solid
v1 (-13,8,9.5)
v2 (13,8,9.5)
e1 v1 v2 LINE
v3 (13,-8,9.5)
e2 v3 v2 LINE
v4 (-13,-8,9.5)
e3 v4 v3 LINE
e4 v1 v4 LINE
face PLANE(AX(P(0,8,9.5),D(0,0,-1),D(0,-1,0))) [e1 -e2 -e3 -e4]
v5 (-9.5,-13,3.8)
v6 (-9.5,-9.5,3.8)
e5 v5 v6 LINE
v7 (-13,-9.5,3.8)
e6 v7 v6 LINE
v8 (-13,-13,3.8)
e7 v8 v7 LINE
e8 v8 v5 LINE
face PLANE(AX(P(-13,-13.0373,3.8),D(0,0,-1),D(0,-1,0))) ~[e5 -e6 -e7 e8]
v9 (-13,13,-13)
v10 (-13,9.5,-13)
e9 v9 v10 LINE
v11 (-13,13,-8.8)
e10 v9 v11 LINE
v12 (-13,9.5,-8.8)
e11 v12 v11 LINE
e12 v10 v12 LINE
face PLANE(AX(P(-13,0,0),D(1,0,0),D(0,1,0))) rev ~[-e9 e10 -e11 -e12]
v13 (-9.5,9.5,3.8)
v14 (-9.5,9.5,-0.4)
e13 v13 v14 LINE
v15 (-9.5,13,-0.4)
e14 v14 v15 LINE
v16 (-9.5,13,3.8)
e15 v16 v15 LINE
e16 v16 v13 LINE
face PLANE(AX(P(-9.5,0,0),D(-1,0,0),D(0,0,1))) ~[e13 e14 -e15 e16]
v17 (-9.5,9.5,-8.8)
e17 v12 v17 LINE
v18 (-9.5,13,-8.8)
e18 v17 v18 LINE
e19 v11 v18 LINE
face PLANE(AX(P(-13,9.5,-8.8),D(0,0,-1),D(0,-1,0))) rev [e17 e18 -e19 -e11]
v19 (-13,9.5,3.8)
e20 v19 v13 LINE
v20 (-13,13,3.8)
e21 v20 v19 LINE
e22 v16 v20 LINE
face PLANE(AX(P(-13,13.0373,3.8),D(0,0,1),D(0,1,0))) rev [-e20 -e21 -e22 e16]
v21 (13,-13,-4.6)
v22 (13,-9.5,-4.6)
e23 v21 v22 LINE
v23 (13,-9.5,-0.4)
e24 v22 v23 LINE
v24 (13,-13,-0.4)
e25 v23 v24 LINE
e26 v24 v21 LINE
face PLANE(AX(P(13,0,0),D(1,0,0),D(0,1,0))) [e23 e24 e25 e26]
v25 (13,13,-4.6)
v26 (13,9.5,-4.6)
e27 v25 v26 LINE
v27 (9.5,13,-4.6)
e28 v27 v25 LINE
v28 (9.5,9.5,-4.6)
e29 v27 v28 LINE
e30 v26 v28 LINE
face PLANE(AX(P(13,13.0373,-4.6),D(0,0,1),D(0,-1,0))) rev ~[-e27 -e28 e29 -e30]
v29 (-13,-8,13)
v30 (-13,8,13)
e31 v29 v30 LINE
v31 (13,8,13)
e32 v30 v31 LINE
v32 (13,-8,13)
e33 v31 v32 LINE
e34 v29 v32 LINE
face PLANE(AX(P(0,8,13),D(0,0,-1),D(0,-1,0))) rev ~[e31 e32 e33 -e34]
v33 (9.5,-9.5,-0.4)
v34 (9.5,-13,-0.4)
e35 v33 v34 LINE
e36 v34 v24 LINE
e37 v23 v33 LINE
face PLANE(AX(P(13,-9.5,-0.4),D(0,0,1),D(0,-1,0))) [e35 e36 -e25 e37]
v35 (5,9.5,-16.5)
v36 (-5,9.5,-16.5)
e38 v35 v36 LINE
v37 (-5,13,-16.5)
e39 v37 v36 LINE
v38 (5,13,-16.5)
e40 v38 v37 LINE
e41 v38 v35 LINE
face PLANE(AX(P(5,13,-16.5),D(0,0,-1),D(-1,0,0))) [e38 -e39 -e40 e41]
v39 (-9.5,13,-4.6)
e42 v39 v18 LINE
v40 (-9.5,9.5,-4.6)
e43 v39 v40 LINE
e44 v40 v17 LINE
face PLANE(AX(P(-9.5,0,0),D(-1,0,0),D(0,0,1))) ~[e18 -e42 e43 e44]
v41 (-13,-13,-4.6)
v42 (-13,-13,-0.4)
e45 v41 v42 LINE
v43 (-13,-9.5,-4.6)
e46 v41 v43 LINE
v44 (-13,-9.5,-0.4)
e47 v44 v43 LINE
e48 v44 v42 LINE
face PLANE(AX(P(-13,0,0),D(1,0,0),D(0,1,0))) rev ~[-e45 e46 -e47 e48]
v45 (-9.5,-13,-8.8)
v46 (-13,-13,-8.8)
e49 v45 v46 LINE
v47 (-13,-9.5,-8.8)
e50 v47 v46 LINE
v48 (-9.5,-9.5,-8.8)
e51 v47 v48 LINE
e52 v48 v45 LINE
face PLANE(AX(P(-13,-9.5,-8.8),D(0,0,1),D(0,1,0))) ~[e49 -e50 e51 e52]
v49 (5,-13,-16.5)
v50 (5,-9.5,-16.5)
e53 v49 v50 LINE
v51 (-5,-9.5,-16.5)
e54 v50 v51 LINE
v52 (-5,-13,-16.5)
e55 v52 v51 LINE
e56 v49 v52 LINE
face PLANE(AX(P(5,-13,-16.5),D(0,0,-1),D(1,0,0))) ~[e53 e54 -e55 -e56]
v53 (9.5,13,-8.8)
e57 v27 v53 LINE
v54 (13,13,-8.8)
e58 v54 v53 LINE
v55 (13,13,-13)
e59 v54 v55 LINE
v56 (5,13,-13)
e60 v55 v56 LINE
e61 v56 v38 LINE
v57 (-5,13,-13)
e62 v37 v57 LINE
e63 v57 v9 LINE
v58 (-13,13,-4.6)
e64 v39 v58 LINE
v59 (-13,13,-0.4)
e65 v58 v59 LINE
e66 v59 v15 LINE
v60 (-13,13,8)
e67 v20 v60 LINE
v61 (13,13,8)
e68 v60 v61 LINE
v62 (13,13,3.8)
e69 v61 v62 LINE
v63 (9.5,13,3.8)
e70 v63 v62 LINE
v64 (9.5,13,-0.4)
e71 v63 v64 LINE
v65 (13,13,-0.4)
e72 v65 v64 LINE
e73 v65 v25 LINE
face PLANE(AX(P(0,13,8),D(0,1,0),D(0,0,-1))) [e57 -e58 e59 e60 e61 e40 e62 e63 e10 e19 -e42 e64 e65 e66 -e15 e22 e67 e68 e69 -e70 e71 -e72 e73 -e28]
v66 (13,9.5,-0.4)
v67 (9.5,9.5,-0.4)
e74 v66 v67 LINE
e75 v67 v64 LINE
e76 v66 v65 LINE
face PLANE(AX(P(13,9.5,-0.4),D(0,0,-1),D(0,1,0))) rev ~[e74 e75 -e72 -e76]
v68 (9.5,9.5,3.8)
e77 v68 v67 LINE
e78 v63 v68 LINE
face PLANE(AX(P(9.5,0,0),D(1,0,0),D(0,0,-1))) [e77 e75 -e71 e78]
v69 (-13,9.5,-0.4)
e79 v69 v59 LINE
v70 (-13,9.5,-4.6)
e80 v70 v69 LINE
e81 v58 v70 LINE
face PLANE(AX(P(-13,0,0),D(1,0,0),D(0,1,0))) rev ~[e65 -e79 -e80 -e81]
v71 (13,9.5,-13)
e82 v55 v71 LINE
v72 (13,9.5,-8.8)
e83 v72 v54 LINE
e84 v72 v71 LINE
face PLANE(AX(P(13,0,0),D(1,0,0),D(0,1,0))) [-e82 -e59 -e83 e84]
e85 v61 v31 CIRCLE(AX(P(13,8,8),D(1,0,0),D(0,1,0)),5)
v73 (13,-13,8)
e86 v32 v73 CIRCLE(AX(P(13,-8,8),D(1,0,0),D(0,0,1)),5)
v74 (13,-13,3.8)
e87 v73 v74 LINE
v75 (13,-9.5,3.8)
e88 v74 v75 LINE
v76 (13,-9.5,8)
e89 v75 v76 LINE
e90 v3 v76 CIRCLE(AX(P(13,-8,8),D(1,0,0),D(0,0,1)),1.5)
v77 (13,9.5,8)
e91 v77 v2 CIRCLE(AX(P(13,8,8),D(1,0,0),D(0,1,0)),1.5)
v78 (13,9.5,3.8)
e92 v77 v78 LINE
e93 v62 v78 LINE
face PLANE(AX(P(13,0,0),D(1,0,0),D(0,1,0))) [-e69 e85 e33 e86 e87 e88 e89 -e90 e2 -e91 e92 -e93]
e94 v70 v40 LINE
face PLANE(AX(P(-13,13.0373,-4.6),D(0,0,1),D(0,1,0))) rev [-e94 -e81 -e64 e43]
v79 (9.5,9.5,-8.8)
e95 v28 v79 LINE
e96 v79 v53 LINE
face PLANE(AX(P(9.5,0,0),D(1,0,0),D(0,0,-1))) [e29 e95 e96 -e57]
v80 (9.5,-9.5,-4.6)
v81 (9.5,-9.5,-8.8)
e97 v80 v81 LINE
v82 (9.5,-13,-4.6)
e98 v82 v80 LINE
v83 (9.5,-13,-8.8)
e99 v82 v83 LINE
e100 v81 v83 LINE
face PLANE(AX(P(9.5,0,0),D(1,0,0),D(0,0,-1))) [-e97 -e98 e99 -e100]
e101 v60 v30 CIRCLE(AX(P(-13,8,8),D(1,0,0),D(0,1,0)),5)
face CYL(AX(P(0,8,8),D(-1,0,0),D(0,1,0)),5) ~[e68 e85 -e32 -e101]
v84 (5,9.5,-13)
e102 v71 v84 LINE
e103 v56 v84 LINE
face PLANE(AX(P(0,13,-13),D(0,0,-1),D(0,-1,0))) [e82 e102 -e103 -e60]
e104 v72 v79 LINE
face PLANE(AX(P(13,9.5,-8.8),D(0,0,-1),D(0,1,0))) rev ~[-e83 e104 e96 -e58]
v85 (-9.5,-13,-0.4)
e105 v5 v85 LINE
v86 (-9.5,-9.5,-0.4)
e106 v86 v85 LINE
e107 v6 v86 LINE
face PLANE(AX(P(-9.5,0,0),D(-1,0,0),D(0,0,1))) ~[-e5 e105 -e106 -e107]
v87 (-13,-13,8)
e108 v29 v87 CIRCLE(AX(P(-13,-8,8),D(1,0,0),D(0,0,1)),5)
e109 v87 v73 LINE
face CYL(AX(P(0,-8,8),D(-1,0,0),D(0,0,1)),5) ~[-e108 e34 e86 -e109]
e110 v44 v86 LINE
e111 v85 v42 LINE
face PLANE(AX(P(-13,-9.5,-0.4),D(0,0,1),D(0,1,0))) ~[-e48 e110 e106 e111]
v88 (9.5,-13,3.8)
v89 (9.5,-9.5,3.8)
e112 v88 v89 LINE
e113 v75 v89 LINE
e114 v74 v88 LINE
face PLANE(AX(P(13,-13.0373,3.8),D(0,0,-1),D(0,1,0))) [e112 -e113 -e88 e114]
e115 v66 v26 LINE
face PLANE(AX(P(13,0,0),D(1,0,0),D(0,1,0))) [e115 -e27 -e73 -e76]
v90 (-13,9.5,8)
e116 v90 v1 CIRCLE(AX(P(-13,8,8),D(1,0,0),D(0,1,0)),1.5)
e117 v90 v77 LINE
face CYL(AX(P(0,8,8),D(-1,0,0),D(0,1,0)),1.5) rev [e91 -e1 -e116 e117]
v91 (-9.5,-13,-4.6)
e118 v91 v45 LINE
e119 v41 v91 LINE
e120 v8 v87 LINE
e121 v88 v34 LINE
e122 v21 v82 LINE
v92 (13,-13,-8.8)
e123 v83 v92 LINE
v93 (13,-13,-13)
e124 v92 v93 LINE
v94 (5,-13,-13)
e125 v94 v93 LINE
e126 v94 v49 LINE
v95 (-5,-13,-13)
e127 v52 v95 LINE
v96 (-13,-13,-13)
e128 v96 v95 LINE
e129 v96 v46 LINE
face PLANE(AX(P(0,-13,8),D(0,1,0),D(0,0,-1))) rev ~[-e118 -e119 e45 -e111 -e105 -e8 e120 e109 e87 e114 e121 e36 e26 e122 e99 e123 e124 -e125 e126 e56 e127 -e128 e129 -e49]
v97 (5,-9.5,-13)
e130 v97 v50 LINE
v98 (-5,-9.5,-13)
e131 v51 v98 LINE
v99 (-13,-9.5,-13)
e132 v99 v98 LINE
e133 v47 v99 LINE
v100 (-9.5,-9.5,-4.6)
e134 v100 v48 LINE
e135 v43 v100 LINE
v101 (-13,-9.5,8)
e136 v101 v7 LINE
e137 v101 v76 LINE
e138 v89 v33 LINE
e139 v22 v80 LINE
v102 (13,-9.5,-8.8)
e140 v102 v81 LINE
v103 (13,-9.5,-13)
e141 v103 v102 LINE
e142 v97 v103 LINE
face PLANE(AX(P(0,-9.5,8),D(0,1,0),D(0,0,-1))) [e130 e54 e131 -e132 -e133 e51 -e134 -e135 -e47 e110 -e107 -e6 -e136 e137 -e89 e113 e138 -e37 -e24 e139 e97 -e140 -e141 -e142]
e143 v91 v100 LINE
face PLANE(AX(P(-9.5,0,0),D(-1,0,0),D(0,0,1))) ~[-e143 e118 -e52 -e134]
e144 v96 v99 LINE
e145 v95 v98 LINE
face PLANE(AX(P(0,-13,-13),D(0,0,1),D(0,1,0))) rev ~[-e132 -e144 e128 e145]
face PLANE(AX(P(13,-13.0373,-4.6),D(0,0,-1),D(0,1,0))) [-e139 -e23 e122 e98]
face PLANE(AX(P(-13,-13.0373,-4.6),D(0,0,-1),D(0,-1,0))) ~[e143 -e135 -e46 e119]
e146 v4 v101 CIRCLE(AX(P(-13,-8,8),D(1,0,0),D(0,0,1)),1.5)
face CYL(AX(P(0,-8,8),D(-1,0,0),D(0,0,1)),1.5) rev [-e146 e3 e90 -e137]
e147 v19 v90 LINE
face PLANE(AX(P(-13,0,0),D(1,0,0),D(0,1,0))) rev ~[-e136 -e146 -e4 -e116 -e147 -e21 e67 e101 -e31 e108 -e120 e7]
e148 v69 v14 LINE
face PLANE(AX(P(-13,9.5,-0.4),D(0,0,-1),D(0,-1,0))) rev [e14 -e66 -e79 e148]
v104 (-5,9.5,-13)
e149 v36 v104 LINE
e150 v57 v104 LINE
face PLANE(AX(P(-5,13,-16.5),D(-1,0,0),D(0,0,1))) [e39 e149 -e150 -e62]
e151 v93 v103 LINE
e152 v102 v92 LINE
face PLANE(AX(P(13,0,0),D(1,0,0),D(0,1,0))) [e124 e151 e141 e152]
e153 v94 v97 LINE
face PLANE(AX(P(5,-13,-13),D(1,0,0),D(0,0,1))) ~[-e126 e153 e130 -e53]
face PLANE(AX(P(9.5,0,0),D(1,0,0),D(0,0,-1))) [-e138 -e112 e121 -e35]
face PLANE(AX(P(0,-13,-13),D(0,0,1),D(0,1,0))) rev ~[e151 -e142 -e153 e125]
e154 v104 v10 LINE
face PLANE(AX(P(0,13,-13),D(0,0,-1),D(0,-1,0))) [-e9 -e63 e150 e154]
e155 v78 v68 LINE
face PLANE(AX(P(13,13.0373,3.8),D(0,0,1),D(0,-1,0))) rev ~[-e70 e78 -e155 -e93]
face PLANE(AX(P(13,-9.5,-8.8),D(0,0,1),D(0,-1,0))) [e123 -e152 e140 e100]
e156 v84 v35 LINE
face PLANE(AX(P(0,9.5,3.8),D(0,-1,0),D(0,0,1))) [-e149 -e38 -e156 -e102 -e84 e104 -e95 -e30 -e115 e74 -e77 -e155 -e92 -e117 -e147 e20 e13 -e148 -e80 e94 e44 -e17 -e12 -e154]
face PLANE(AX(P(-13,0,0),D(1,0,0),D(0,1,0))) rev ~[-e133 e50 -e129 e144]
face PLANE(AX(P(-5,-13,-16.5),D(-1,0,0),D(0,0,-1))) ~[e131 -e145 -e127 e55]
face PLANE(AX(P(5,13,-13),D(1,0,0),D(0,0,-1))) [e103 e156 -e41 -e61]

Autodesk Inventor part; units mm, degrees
ref_plane "YZ Plane" through (0, 0, 0) normal (1, 0, 0) x (0, 1, 0)
ref_plane "XZ Plane" through (0, 0, 0) normal (0, 1, 0) x (-1, 0, 0)
sketch "Sketch1" plane through (0, 0, 0) normal (1, 0, 0) x (0, 1, 0)
  line L0 (13, 8) -> (13, -13)
  line L1 (5, -13) -> (0, -13)
  line L2 (0, -16.5) -> (5, -16.5)
  line L3 (5, -16.5) -> (5, -13)
  line L4 (0, 7.0803) -> (-6.4131, 0.6672)
  line L5 (-7.0965, 1.3506) -> (-0.3417, 8.1054)
  line L6 (-7.9849, 0.4622) -> (-7.0965, 1.3506) construction
  spline S0 degree 3 poles (-8.4777, -1.9692) (-8.4777, -0.714) (-7.9849, 0.4622) (-7.0965, 1.3506) knots 7 7 7 7 8 8 8 8
  line L7 (-8.4777, -1.9692) -> (-8.4777, -0.714) construction
  line L8 (-8.4777, -0.714) -> (-7.9849, 0.4622) construction
  line L9 (-6.4131, 0.6672) -> (-7.1181, -0.0378) construction
  spline S1 degree 3 poles (-6.4131, 0.6672) (-7.1181, -0.0378) (-7.5065, -0.9729) (-7.5065, -1.9692) (-7.5065, -2.9656) (-7.1217, -3.9007) (-6.4167, -4.6021) knots 2 2 2 2 3 3 3 4 4 4 4
  line L10 (-7.1181, -0.0378) -> (-7.5065, -0.9729) construction
  line L11 (-7.5065, -0.9729) -> (-7.5065, -1.9692) construction
  line L12 (-7.5065, -1.9692) -> (-7.5065, -2.9656) construction
  line L13 (-7.5065, -2.9656) -> (-7.1217, -3.9007) construction
  line L14 (-7.1217, -3.9007) -> (-6.4167, -4.6021) construction
  line L15 (-8.4813, -3.2245) -> (-8.4777, -1.9692) construction
  spline S2 degree 3 poles (-7.1037, -5.2927) (-7.9921, -4.4043) (-8.4813, -3.2245) (-8.4777, -1.9692) knots 6 6 6 6 7 7 7 7
  line L16 (-7.1037, -5.2927) -> (-7.9921, -4.4043) construction
  line L17 (-7.9921, -4.4043) -> (-8.4813, -3.2245) construction
  line L18 (-1.1474, -4.5985) -> (-0.3345, -3.7856)
  line L19 (-1.8524, -5.3035) -> (-1.1474, -4.5985) construction
  spline S3 degree 3 poles (-6.4167, -4.6021) (-5.7153, -5.3035) (-4.7802, -5.6919) (-3.7874, -5.6919) (-2.7911, -5.6919) (-1.8524, -5.3035) (-1.1474, -4.5985) knots 4 4 4 4 5 5 5 6 6 6 6
  line L20 (-6.4167, -4.6021) -> (-5.7153, -5.3035) construction
  line L21 (-5.7153, -5.3035) -> (-4.7802, -5.6919) construction
  line L22 (-4.7802, -5.6919) -> (-3.7874, -5.6919) construction
  line L23 (-3.7874, -5.6919) -> (-2.7911, -5.6919) construction
  line L24 (-2.7911, -5.6919) -> (-1.8524, -5.3035) construction
  line L25 (-0.4604, -5.2855) -> (-1.3488, -6.1739) construction
  spline S4 degree 3 poles (-0.4604, -5.2855) (-1.3488, -6.1739) (-2.5321, -6.6667) (-3.7874, -6.6667) (-5.0391, -6.6667) (-6.2189, -6.1775) (-7.1037, -5.2927) knots 4 4 4 4 5 5 5 6 6 6 6
  line L26 (-1.3488, -6.1739) -> (-2.5321, -6.6667) construction
  line L27 (-2.5321, -6.6667) -> (-3.7874, -6.6667) construction
  line L28 (-3.7874, -6.6667) -> (-5.0391, -6.6667) construction
  line L29 (-5.0391, -6.6667) -> (-6.2189, -6.1775) construction
  line L30 (-6.2189, -6.1775) -> (-7.1037, -5.2927) construction
  line L31 (2.5429, -6.6559) -> (1.3632, -6.1667) construction
  spline S5 degree 3 poles (7.1181, -5.2819) (6.2297, -6.1703) (5.0535, -6.6559) (3.7982, -6.6559) (2.5429, -6.6559) (1.3632, -6.1667) (0.4748, -5.2783) knots 0 0 0 0 1 1 1 2 2 2 2
  line L32 (7.1181, -5.2819) -> (6.2297, -6.1703) construction
  line L33 (6.2297, -6.1703) -> (5.0535, -6.6559) construction
  line L34 (5.0535, -6.6559) -> (3.7982, -6.6559) construction
  line L35 (3.7982, -6.6559) -> (2.5429, -6.6559) construction
  line L36 (1.3632, -6.1667) -> (0.4748, -5.2783) construction
  spline S6 degree 3 poles (-0.3345, -3.7856) (-0.1439, -3.595) (0.1619, -3.595) (0.3525, -3.7856) knots 7 7 7 7 8 8 8 8
  line L37 (-0.1439, -3.595) -> (0.1619, -3.595) construction
  line L38 (-0.3345, -3.7856) -> (-0.1439, -3.595) construction
  line L39 (0.1619, -3.595) -> (0.3525, -3.7856) construction
  line L40 (0.0108, -4.8143) -> (-0.4604, -5.2855)
  line L41 (0.4748, -5.2783) -> (0.0108, -4.8143)
  line L42 (6.4275, 0.678) -> (0, 7.0803)
  line L43 (-0.3417, 8.1054) -> (-0.2482, 8.1989) construction
  spline S7 degree 3 poles (-0.3417, 8.1054) (-0.2482, 8.1989) (-0.1223, 8.2493) (0, 8.2493) (0.1223, 8.2493) (0.2482, 8.2025) (0.3417, 8.109) knots 9 9 9 9 10 10 10 11 11 11 11
  line L44 (-0.2482, 8.1989) -> (-0.1223, 8.2493) construction
  line L45 (-0.1223, 8.2493) -> (0, 8.2493) construction
  line L46 (0, 8.2493) -> (0.1223, 8.2493) construction
  line L47 (0.1223, 8.2493) -> (0.2482, 8.2025) construction
  line L48 (0.2482, 8.2025) -> (0.3417, 8.109) construction
  line L49 (0.3417, 8.109) -> (7.1109, 1.365)
  line L50 (0.3525, -3.7856) -> (1.1582, -4.5913)
  spline S8 degree 3 poles (1.1582, -4.5913) (1.8631, -5.2963) (2.8019, -5.6847) (3.7946, -5.6847) (4.7873, -5.6847) (5.7225, -5.2963) (6.4275, -4.5949) knots 9 9 9 9 10 10 10 11 11 11 11
  line L51 (1.1582, -4.5913) -> (1.8631, -5.2963) construction
  line L52 (1.8631, -5.2963) -> (2.8019, -5.6847) construction
  line L53 (2.8019, -5.6847) -> (3.7946, -5.6847) construction
  line L54 (3.7946, -5.6847) -> (4.7873, -5.6847) construction
  line L55 (4.7873, -5.6847) -> (5.7225, -5.2963) construction
  line L56 (5.7225, -5.2963) -> (6.4275, -4.5949) construction
  line L57 (6.4275, -4.5949) -> (7.1325, -3.8899) construction
  spline S9 degree 3 poles (6.4275, -4.5949) (7.1325, -3.8899) (7.5173, -2.9548) (7.5173, -1.9584) knots 11 11 11 11 12 12 12 12
  line L58 (7.1325, -3.8899) -> (7.5173, -2.9548) construction
  line L59 (7.5173, -2.9548) -> (7.5173, -1.9584) construction
  line L60 (8.0065, -4.3935) -> (7.1181, -5.2819) construction
  spline S10 degree 3 poles (8.4885, -1.9584) (8.4921, -3.2137) (8.0065, -4.3935) (7.1181, -5.2819) knots 13 13 13 13 14 14 14 14
  line L61 (8.4885, -1.9584) -> (8.4921, -3.2137) construction
  line L62 (8.4921, -3.2137) -> (8.0065, -4.3935) construction
  line L63 (7.5173, -1.9584) -> (7.5209, -0.9621) construction
  spline S11 degree 3 poles (7.5173, -1.9584) (7.5209, -0.9621) (7.1325, -0.027) (6.4275, 0.678) knots 12 12 12 12 13 13 13 13
  line L64 (7.5209, -0.9621) -> (7.1325, -0.027) construction
  line L65 (7.1325, -0.027) -> (6.4275, 0.678) construction
  line L66 (8.4885, -0.7032) -> (8.4885, -1.9584) construction
  spline S12 degree 3 poles (7.1109, 1.365) (7.9993, 0.4766) (8.4885, -0.7032) (8.4885, -1.9584) knots 12 12 12 12 13 13 13 13
  line L67 (7.1109, 1.365) -> (7.9993, 0.4766) construction
  line L68 (7.9993, 0.4766) -> (8.4885, -0.7032) construction
  arc A0 (13, 8) -> (8, 13) centre (8, 8) ccw
  line L69 (0, -16.5) -> (0, -13)
  line L70 (13, -13) -> (0, -13)
  line L71 (8, 13) -> (0, 13)
  line L72 (-8, 13) -> (0, 13)
  arc A1 (-8, 13) -> (-13, 8) centre (-8, 8) ccw
  line L73 (-5, -13) -> (0, -13)
  line L74 (-5, -16.5) -> (-5, -13)
  line L75 (0, -16.5) -> (-5, -16.5)
  line L76 (-13, -13) -> (0, -13)
  line L77 (-13, 8) -> (-13, -13)
  line L78 (13, -4.6) -> (16.5, -4.6)
  line L79 (16.5, -4.6) -> (16.5, -8.8)
  line L80 (16.5, -8.8) -> (13, -8.8)
  line L81 (13, -8.8) -> (13, -4.6)
  line L82 (16.5, -0.4) -> (13, -0.4)
  line L83 (16.5, 3.8) -> (16.5, -0.4)
  line L84 (13, 3.8) -> (16.5, 3.8)
  line L85 (-16.5, 3.8) -> (-16.5, -0.4)
  line L86 (-13, 3.8) -> (-16.5, 3.8)
  line L87 (-16.5, -0.4) -> (-13, -0.4)
  line L88 (-13, -4.6) -> (-16.5, -4.6)
  line L89 (-16.5, -8.8) -> (-13, -8.8)
  line L90 (-16.5, -4.6) -> (-16.5, -8.8)
  line L91 (9.5, -9.5) -> (9.5, 8)
  arc A2 (9.5, 8) -> (8, 9.5) centre (8, 8) ccw
  line L92 (8, 9.5) -> (0, 9.5)
  line L93 (0, 9.5) -> (-8, 9.5)
  arc A3 (-8, 9.5) -> (-9.5, 8) centre (-8, 8) ccw
  line L94 (-9.5, 8) -> (-9.5, -9.5)
  line L95 (-9.5, -9.5) -> (0, -9.5)
  line L96 (0, -9.5) -> (9.5, -9.5)
  line L97 (9.5, -9.5) -> (9.5, -13)
  line L98 (-9.5, -9.5) -> (-9.5, -13)
  line L99 (13, -8.8) -> (9.5, -8.8)
  line L100 (9.5, -8.8) -> (9.5, -4.6)
  line L101 (9.5, -4.6) -> (13, -4.6)
  line L102 (13, -4.6) -> (13, -8.8)
  line L103 (13, -0.4) -> (9.5, -0.4)
  line L104 (9.5, -0.4) -> (9.5, 3.8)
  line L105 (9.5, 3.8) -> (13, 3.8)
  line L106 (13, 3.8) -> (13, -0.4)
  line L107 (-13, 3.8) -> (-9.5, 3.8)
  line L108 (-9.5, 3.8) -> (-9.5, -0.4)
  line L109 (-9.5, -0.4) -> (-13, -0.4)
  line L110 (-13, -0.4) -> (-13, 3.8)
  line L111 (-13, -4.6) -> (-9.5, -4.6)
  line L112 (-9.5, -4.6) -> (-9.5, -8.8)
  line L113 (-9.5, -8.8) -> (-13, -8.8)
  line L114 (-13, -8.8) -> (-13, -4.6)
  line L115 (0.3, 6.198) -> (-0.3, 6.198)
  line L116 (-0.3, 6.198) -> (-0.3, 9.1381)
  line L117 (-0.3, 9.1381) -> (0.3, 9.1381)
  line L118 (0.3, 9.1381) -> (0.3, 6.198)
  line L119 (-8.0638, -4.3092) -> (-5.5177, -2.8392)
  line L120 (-7.7638, -4.8289) -> (-8.0638, -4.3092)
  line L121 (-5.2177, -3.3588) -> (-7.7638, -4.8289)
  line L122 (-5.5177, -2.8392) -> (-5.2177, -3.3588)
  line L123 (7.7638, -4.8289) -> (5.2177, -3.3588)
  line L124 (8.0638, -4.3092) -> (7.7638, -4.8289)
  line L125 (5.5177, -2.8392) -> (8.0638, -4.3092)
  line L126 (5.2177, -3.3588) -> (5.5177, -2.8392)
  point P0 (0.3, 11.1366)
  point P1 (0.4643, 11.0177)
  point P2 (9.6684, 1.8477)
  point P3 (11.5332, -2.6643)
  point P4 (10.7976, -5.6567)
  point P5 (9.6497, -4.9939)
  point P6 (10.2137, -2.6609)
  point P7 (8.7384, 0.9158)
  point P8 (0.5, 9.122)
  point P9 (10.2596, -6.5007)
  point P10 (9.6713, -7.1765)
  point P11 (0.6451, -7.1716)
  point P12 (0.0147, -6.5412)
  point P13 (-0.6255, -7.1814)
  point P14 (-9.6517, -7.1911)
  point P15 (-10.2539, -6.4975)
  point P16 (-9.2214, -5.6704)
  point P17 (-8.7205, -6.2507)
  point P18 (-1.5589, -6.248)
  point P19 (-0.4542, -5.1432)
  point P20 (0.4789, -5.1435)
  point P21 (1.5736, -6.2382)
  point P22 (8.733, -6.2431)
  point P23 (9.102, -5.8324)
  point P24 (-0.3, 11.1333)
  point P25 (-0.5, 9.12)
  point P26 (-8.7136, 0.9064)
  point P27 (-9.5487, -5.1665)
  point P28 (-10.7898, -5.6522)
  point P29 (-11.5186, -2.6721)
  point P30 (-9.642, 1.8351)
  point P31 (-0.4643, 11.0128)
  point P32 (8.733, 0.9212)
  point P33 (11.5332, -2.6609)
  point P34 (9.6615, 1.8546)
  point P35 (0.5, 10.9821)
  point P36 (-0.4545, -5.1435)
  point P37 (-8.7183, -6.2528)
  point P38 (-9.0983, -5.8302)
  point P39 (-9.6438, -4.9905)
  point P40 (-11.5186, -2.6756)
  point P41 (-8.7134, 0.9066)
  point P42 (-0.5, 10.977)
  point P43 (0, 0)
  point P44 (13, 13)
  point P45 (-13, 0)
  point P46 (0, 6.5628)
  point P47 (-13, 13)
  point P48 (-5, -14.75)
  point P49 (7.1159, 1.3599)
  point P50 (8.4885, -1.9609)
  point P51 (6.4315, 0.674)
  point P52 (7.1181, -5.2819)
  point P53 (-6.4183, -4.6005)
  point P54 (-0.3345, -3.7856)
  point P55 (1.1582, -4.5913)
  point P56 (-6.4131, 0.6672)
  point P57 (-8.4777, -1.9667)
  point P58 (-0.3417, 8.1054)
  point P59 (8.733, 0.9212)
  point P60 (11.5332, -2.6609)
  point P61 (9.6615, 1.8546)
  point P62 (-0.4545, -5.1435)
  point P63 (-8.7183, -6.2528)
  point P64 (-11.5186, -2.6756)
  point P65 (-8.7134, 0.9066)
  point P66 (0, 6.198)
  point P67 (-5.3677, -3.099)
  point P68 (5.3677, -3.099)
  point P69 (0.3, 8.1463)
  point P70 (7.1109, 1.365)
  point P71 (7.9147, -4.2232)
  point P72 (7.0703, -3.7356)
  point P73 (0.3, 6.7815)
  point P74 (7.5919, -4.7296)
  point P75 (-7.5876, -4.7271)
  point P76 (-6.7441, -4.2401)
  point P77 (-0.3345, -3.7856)
  point P78 (6.7417, -4.2387)
  point P79 (-0.3, 8.1429)
  point P80 (-0.3, 6.7803)
  point P81 (-7.0683, -3.7345)
  point P82 (-7.9091, -4.2199)
  point P83 (-8.4777, -1.9692)
  dimension "d50" = 26
  dimension "d51" = 5
  dimension "d52" = 10
  dimension "d53" = 13
  dimension "d54" = 4.2
  dimension "d55" = 3.5
  dimension "d56" = 4.2
  dimension "d57" = 8.4
  dimension "d58" = 3.5
  dimension "d59" = 0.6
  dimension "d60" = 360
extrude "Extrusion1" add sketch "Sketch1" along normal mid plane 26 contours L0 L105 L91 A2 L92 L93 A3 L94 L107 L77 A1 L72 L71 A0 | L0 L103 L91 L105 | L0 L101 L91 L103 | L0 L99 L91 L101 | L0 L70 L97 L91 L99 | L107 L94 L109 L77 | L109 L94 L111 L77 | L111 L94 L113 L77 | L98 L76 L77 L113 L94
sketch "Sketch4" plane through (13, 0, 0) normal (1, 0, 0) x (0, 0, -1)
  line L0 (13, 8) -> (13, -13)
  line L1 (13, -4.6) -> (16.5, -4.6)
  line L2 (16.5, -4.6) -> (16.5, -8.8)
  line L3 (16.5, -8.8) -> (13, -8.8)
  line L4 (16.5, -0.4) -> (13, -0.4)
  line L5 (16.5, 3.8) -> (16.5, -0.4)
  line L6 (13, 3.8) -> (16.5, 3.8)
  line L7 (-0.3, 9.1381) -> (0.3, 9.1381)
  line L8 (-8, 9.5) -> (13, 9.5) projected
  line L9 (8.8, 13.0373) -> (4.6, 13.0373)
  line L10 (4.6, 13.0373) -> (4.6, 9.5)
  line L11 (4.6, 9.5) -> (8.8, 9.5)
  line L12 (8.8, 9.5) -> (8.8, 13.0373)
  line L13 (13, 9.5) -> (13, 13) projected
  line L14 (-3.8, 13.0373) -> (-3.8, 9.5)
  line L15 (0.4, 13.0373) -> (-3.8, 13.0373)
  line L16 (0.4, 9.5) -> (0.4, 13.0373)
  line L17 (-3.8, 9.5) -> (0.4, 9.5)
  line L18 (0, 0) -> (1.8362, 0)
  line L19 (-8, -9.5) -> (13, -9.5)
  line L20 (8.8, -13.0373) -> (4.6, -13.0373)
  line L21 (4.6, -13.0373) -> (4.6, -9.5)
  line L22 (8.8, -9.5) -> (8.8, -13.0373)
  line L23 (-3.8, -13.0373) -> (-3.8, -9.5)
  line L24 (0.4, -13.0373) -> (-3.8, -13.0373)
  line L25 (0.4, -9.5) -> (0.4, -13.0373)
  line L26 (-3.8, -9.5) -> (0.4, -9.5)
  point P0 (0.3417, 8.109)
  point P1 (7.1159, 1.3599)
  point P2 (8.4885, -1.9609)
  point P3 (7.5173, -1.9584)
  point P4 (6.4315, 0.674)
  point P5 (7.1181, -5.2819)
  point P6 (0.4748, -5.2783)
  point P7 (0.0108, -4.8143)
  point P8 (-0.4604, -5.2855)
  point P9 (-7.1037, -5.2927)
  point P10 (-6.4183, -4.6005)
  point P11 (-1.1474, -4.5985)
  point P12 (-0.3345, -3.7856)
  point P13 (0.3525, -3.7856)
  point P14 (1.1582, -4.5913)
  point P15 (6.4275, -4.5949)
  point P16 (-6.4131, 0.6672)
  point P17 (-8.4777, -1.9667)
  point P18 (-7.0965, 1.3506)
  point P19 (-0.3417, 8.1054)
  point P20 (8.733, 0.9212)
  point P21 (11.5332, -2.6609)
  point P22 (9.6615, 1.8546)
  point P23 (-0.4545, -5.1435)
  point P24 (-8.7183, -6.2528)
  point P25 (-11.5186, -2.6756)
  point P26 (-8.7134, 0.9066)
  point P27 (-13, -8.8)
  point P28 (-13, -4.6)
  point P29 (-13, -0.4)
  point P30 (-13, 3.8)
  point P31 (0.3, 8.1463)
  point P32 (7.1109, 1.365)
  point P33 (8.4885, -1.9584)
  point P34 (7.9147, -4.2232)
  point P35 (7.0703, -3.7356)
  point P36 (6.4275, 0.678)
  point P37 (0.3, 6.7815)
  point P38 (7.5919, -4.7296)
  point P39 (-7.5876, -4.7271)
  point P40 (-6.7441, -4.2401)
  point P41 (-6.4167, -4.6021)
  point P42 (-0.3345, -3.7856)
  point P43 (6.7417, -4.2387)
  point P44 (-9.5, 3.8)
  point P45 (-13, 3.8)
  point P46 (-13, -0.4)
  point P47 (-9.5, -4.6)
  point P48 (-13, -4.6)
  point P49 (-13, -8.8)
  point P50 (9.5, -8.8)
  point P51 (9.5, -0.4)
  point P52 (-0.3, 8.1429)
  point P53 (-0.3, 6.7803)
  point P54 (-7.0683, -3.7345)
  point P55 (-7.9091, -4.2199)
  point P56 (-8.4777, -1.9692)
  dimension "d75" = 8.4
  dimension "d80" = 4.2
  dimension "d81" = 4.2
  dimension "d84" = 8.4
extrude "Extrusion4" cut sketch "Sketch4" against normal blind 3.5 contours L25 L24 L23 L19 | L22 L20 L21 L19 | L14 L15 L16 L8 | L10 L9 L12 L8
mirror "Mirror3" about plane through (0, 0, 0) normal (1, 0, 0) of "Extrusion4"
sketch "Sketch5" plane through (-13, 13, 8) normal (0, 1, 0) x (1, 0, 0)
  line L0 (0, 21) -> (26, 21) projected
  line L1 (8, 21) -> (18, 21)
  line L2 (18, 21) -> (18, 24.5)
  line L3 (18, 24.5) -> (8, 24.5)
  line L4 (8, 24.5) -> (8, 21)
  point P0 (13, 8)
  point P1 (13, 24.5)
  dimension "d91" = 10
  dimension "d92" = 3.5
extrude "Extrusion5" add sketch "Sketch5" against normal up to surface (3.5 mm away)
ref_plane "Work Plane2" through (13, 0, 9.5) normal (0, -1, 0) x (1, 0, 0)
mirror "Mirror4" about plane through (13, 0, 9.5) normal (0, -1, 0) of "Extrusion5"
equation "\"d56\" = d54"
equation "\"d57\" = 2 * d54"
equation "\"d75\" = 2 * d72"
equation "\"d81\" = d80"
equation "\"d84\" = 2 * d80"
equation "\"d72\" = 4.2"
properties part number "Spodnji del - Upognjen les"
